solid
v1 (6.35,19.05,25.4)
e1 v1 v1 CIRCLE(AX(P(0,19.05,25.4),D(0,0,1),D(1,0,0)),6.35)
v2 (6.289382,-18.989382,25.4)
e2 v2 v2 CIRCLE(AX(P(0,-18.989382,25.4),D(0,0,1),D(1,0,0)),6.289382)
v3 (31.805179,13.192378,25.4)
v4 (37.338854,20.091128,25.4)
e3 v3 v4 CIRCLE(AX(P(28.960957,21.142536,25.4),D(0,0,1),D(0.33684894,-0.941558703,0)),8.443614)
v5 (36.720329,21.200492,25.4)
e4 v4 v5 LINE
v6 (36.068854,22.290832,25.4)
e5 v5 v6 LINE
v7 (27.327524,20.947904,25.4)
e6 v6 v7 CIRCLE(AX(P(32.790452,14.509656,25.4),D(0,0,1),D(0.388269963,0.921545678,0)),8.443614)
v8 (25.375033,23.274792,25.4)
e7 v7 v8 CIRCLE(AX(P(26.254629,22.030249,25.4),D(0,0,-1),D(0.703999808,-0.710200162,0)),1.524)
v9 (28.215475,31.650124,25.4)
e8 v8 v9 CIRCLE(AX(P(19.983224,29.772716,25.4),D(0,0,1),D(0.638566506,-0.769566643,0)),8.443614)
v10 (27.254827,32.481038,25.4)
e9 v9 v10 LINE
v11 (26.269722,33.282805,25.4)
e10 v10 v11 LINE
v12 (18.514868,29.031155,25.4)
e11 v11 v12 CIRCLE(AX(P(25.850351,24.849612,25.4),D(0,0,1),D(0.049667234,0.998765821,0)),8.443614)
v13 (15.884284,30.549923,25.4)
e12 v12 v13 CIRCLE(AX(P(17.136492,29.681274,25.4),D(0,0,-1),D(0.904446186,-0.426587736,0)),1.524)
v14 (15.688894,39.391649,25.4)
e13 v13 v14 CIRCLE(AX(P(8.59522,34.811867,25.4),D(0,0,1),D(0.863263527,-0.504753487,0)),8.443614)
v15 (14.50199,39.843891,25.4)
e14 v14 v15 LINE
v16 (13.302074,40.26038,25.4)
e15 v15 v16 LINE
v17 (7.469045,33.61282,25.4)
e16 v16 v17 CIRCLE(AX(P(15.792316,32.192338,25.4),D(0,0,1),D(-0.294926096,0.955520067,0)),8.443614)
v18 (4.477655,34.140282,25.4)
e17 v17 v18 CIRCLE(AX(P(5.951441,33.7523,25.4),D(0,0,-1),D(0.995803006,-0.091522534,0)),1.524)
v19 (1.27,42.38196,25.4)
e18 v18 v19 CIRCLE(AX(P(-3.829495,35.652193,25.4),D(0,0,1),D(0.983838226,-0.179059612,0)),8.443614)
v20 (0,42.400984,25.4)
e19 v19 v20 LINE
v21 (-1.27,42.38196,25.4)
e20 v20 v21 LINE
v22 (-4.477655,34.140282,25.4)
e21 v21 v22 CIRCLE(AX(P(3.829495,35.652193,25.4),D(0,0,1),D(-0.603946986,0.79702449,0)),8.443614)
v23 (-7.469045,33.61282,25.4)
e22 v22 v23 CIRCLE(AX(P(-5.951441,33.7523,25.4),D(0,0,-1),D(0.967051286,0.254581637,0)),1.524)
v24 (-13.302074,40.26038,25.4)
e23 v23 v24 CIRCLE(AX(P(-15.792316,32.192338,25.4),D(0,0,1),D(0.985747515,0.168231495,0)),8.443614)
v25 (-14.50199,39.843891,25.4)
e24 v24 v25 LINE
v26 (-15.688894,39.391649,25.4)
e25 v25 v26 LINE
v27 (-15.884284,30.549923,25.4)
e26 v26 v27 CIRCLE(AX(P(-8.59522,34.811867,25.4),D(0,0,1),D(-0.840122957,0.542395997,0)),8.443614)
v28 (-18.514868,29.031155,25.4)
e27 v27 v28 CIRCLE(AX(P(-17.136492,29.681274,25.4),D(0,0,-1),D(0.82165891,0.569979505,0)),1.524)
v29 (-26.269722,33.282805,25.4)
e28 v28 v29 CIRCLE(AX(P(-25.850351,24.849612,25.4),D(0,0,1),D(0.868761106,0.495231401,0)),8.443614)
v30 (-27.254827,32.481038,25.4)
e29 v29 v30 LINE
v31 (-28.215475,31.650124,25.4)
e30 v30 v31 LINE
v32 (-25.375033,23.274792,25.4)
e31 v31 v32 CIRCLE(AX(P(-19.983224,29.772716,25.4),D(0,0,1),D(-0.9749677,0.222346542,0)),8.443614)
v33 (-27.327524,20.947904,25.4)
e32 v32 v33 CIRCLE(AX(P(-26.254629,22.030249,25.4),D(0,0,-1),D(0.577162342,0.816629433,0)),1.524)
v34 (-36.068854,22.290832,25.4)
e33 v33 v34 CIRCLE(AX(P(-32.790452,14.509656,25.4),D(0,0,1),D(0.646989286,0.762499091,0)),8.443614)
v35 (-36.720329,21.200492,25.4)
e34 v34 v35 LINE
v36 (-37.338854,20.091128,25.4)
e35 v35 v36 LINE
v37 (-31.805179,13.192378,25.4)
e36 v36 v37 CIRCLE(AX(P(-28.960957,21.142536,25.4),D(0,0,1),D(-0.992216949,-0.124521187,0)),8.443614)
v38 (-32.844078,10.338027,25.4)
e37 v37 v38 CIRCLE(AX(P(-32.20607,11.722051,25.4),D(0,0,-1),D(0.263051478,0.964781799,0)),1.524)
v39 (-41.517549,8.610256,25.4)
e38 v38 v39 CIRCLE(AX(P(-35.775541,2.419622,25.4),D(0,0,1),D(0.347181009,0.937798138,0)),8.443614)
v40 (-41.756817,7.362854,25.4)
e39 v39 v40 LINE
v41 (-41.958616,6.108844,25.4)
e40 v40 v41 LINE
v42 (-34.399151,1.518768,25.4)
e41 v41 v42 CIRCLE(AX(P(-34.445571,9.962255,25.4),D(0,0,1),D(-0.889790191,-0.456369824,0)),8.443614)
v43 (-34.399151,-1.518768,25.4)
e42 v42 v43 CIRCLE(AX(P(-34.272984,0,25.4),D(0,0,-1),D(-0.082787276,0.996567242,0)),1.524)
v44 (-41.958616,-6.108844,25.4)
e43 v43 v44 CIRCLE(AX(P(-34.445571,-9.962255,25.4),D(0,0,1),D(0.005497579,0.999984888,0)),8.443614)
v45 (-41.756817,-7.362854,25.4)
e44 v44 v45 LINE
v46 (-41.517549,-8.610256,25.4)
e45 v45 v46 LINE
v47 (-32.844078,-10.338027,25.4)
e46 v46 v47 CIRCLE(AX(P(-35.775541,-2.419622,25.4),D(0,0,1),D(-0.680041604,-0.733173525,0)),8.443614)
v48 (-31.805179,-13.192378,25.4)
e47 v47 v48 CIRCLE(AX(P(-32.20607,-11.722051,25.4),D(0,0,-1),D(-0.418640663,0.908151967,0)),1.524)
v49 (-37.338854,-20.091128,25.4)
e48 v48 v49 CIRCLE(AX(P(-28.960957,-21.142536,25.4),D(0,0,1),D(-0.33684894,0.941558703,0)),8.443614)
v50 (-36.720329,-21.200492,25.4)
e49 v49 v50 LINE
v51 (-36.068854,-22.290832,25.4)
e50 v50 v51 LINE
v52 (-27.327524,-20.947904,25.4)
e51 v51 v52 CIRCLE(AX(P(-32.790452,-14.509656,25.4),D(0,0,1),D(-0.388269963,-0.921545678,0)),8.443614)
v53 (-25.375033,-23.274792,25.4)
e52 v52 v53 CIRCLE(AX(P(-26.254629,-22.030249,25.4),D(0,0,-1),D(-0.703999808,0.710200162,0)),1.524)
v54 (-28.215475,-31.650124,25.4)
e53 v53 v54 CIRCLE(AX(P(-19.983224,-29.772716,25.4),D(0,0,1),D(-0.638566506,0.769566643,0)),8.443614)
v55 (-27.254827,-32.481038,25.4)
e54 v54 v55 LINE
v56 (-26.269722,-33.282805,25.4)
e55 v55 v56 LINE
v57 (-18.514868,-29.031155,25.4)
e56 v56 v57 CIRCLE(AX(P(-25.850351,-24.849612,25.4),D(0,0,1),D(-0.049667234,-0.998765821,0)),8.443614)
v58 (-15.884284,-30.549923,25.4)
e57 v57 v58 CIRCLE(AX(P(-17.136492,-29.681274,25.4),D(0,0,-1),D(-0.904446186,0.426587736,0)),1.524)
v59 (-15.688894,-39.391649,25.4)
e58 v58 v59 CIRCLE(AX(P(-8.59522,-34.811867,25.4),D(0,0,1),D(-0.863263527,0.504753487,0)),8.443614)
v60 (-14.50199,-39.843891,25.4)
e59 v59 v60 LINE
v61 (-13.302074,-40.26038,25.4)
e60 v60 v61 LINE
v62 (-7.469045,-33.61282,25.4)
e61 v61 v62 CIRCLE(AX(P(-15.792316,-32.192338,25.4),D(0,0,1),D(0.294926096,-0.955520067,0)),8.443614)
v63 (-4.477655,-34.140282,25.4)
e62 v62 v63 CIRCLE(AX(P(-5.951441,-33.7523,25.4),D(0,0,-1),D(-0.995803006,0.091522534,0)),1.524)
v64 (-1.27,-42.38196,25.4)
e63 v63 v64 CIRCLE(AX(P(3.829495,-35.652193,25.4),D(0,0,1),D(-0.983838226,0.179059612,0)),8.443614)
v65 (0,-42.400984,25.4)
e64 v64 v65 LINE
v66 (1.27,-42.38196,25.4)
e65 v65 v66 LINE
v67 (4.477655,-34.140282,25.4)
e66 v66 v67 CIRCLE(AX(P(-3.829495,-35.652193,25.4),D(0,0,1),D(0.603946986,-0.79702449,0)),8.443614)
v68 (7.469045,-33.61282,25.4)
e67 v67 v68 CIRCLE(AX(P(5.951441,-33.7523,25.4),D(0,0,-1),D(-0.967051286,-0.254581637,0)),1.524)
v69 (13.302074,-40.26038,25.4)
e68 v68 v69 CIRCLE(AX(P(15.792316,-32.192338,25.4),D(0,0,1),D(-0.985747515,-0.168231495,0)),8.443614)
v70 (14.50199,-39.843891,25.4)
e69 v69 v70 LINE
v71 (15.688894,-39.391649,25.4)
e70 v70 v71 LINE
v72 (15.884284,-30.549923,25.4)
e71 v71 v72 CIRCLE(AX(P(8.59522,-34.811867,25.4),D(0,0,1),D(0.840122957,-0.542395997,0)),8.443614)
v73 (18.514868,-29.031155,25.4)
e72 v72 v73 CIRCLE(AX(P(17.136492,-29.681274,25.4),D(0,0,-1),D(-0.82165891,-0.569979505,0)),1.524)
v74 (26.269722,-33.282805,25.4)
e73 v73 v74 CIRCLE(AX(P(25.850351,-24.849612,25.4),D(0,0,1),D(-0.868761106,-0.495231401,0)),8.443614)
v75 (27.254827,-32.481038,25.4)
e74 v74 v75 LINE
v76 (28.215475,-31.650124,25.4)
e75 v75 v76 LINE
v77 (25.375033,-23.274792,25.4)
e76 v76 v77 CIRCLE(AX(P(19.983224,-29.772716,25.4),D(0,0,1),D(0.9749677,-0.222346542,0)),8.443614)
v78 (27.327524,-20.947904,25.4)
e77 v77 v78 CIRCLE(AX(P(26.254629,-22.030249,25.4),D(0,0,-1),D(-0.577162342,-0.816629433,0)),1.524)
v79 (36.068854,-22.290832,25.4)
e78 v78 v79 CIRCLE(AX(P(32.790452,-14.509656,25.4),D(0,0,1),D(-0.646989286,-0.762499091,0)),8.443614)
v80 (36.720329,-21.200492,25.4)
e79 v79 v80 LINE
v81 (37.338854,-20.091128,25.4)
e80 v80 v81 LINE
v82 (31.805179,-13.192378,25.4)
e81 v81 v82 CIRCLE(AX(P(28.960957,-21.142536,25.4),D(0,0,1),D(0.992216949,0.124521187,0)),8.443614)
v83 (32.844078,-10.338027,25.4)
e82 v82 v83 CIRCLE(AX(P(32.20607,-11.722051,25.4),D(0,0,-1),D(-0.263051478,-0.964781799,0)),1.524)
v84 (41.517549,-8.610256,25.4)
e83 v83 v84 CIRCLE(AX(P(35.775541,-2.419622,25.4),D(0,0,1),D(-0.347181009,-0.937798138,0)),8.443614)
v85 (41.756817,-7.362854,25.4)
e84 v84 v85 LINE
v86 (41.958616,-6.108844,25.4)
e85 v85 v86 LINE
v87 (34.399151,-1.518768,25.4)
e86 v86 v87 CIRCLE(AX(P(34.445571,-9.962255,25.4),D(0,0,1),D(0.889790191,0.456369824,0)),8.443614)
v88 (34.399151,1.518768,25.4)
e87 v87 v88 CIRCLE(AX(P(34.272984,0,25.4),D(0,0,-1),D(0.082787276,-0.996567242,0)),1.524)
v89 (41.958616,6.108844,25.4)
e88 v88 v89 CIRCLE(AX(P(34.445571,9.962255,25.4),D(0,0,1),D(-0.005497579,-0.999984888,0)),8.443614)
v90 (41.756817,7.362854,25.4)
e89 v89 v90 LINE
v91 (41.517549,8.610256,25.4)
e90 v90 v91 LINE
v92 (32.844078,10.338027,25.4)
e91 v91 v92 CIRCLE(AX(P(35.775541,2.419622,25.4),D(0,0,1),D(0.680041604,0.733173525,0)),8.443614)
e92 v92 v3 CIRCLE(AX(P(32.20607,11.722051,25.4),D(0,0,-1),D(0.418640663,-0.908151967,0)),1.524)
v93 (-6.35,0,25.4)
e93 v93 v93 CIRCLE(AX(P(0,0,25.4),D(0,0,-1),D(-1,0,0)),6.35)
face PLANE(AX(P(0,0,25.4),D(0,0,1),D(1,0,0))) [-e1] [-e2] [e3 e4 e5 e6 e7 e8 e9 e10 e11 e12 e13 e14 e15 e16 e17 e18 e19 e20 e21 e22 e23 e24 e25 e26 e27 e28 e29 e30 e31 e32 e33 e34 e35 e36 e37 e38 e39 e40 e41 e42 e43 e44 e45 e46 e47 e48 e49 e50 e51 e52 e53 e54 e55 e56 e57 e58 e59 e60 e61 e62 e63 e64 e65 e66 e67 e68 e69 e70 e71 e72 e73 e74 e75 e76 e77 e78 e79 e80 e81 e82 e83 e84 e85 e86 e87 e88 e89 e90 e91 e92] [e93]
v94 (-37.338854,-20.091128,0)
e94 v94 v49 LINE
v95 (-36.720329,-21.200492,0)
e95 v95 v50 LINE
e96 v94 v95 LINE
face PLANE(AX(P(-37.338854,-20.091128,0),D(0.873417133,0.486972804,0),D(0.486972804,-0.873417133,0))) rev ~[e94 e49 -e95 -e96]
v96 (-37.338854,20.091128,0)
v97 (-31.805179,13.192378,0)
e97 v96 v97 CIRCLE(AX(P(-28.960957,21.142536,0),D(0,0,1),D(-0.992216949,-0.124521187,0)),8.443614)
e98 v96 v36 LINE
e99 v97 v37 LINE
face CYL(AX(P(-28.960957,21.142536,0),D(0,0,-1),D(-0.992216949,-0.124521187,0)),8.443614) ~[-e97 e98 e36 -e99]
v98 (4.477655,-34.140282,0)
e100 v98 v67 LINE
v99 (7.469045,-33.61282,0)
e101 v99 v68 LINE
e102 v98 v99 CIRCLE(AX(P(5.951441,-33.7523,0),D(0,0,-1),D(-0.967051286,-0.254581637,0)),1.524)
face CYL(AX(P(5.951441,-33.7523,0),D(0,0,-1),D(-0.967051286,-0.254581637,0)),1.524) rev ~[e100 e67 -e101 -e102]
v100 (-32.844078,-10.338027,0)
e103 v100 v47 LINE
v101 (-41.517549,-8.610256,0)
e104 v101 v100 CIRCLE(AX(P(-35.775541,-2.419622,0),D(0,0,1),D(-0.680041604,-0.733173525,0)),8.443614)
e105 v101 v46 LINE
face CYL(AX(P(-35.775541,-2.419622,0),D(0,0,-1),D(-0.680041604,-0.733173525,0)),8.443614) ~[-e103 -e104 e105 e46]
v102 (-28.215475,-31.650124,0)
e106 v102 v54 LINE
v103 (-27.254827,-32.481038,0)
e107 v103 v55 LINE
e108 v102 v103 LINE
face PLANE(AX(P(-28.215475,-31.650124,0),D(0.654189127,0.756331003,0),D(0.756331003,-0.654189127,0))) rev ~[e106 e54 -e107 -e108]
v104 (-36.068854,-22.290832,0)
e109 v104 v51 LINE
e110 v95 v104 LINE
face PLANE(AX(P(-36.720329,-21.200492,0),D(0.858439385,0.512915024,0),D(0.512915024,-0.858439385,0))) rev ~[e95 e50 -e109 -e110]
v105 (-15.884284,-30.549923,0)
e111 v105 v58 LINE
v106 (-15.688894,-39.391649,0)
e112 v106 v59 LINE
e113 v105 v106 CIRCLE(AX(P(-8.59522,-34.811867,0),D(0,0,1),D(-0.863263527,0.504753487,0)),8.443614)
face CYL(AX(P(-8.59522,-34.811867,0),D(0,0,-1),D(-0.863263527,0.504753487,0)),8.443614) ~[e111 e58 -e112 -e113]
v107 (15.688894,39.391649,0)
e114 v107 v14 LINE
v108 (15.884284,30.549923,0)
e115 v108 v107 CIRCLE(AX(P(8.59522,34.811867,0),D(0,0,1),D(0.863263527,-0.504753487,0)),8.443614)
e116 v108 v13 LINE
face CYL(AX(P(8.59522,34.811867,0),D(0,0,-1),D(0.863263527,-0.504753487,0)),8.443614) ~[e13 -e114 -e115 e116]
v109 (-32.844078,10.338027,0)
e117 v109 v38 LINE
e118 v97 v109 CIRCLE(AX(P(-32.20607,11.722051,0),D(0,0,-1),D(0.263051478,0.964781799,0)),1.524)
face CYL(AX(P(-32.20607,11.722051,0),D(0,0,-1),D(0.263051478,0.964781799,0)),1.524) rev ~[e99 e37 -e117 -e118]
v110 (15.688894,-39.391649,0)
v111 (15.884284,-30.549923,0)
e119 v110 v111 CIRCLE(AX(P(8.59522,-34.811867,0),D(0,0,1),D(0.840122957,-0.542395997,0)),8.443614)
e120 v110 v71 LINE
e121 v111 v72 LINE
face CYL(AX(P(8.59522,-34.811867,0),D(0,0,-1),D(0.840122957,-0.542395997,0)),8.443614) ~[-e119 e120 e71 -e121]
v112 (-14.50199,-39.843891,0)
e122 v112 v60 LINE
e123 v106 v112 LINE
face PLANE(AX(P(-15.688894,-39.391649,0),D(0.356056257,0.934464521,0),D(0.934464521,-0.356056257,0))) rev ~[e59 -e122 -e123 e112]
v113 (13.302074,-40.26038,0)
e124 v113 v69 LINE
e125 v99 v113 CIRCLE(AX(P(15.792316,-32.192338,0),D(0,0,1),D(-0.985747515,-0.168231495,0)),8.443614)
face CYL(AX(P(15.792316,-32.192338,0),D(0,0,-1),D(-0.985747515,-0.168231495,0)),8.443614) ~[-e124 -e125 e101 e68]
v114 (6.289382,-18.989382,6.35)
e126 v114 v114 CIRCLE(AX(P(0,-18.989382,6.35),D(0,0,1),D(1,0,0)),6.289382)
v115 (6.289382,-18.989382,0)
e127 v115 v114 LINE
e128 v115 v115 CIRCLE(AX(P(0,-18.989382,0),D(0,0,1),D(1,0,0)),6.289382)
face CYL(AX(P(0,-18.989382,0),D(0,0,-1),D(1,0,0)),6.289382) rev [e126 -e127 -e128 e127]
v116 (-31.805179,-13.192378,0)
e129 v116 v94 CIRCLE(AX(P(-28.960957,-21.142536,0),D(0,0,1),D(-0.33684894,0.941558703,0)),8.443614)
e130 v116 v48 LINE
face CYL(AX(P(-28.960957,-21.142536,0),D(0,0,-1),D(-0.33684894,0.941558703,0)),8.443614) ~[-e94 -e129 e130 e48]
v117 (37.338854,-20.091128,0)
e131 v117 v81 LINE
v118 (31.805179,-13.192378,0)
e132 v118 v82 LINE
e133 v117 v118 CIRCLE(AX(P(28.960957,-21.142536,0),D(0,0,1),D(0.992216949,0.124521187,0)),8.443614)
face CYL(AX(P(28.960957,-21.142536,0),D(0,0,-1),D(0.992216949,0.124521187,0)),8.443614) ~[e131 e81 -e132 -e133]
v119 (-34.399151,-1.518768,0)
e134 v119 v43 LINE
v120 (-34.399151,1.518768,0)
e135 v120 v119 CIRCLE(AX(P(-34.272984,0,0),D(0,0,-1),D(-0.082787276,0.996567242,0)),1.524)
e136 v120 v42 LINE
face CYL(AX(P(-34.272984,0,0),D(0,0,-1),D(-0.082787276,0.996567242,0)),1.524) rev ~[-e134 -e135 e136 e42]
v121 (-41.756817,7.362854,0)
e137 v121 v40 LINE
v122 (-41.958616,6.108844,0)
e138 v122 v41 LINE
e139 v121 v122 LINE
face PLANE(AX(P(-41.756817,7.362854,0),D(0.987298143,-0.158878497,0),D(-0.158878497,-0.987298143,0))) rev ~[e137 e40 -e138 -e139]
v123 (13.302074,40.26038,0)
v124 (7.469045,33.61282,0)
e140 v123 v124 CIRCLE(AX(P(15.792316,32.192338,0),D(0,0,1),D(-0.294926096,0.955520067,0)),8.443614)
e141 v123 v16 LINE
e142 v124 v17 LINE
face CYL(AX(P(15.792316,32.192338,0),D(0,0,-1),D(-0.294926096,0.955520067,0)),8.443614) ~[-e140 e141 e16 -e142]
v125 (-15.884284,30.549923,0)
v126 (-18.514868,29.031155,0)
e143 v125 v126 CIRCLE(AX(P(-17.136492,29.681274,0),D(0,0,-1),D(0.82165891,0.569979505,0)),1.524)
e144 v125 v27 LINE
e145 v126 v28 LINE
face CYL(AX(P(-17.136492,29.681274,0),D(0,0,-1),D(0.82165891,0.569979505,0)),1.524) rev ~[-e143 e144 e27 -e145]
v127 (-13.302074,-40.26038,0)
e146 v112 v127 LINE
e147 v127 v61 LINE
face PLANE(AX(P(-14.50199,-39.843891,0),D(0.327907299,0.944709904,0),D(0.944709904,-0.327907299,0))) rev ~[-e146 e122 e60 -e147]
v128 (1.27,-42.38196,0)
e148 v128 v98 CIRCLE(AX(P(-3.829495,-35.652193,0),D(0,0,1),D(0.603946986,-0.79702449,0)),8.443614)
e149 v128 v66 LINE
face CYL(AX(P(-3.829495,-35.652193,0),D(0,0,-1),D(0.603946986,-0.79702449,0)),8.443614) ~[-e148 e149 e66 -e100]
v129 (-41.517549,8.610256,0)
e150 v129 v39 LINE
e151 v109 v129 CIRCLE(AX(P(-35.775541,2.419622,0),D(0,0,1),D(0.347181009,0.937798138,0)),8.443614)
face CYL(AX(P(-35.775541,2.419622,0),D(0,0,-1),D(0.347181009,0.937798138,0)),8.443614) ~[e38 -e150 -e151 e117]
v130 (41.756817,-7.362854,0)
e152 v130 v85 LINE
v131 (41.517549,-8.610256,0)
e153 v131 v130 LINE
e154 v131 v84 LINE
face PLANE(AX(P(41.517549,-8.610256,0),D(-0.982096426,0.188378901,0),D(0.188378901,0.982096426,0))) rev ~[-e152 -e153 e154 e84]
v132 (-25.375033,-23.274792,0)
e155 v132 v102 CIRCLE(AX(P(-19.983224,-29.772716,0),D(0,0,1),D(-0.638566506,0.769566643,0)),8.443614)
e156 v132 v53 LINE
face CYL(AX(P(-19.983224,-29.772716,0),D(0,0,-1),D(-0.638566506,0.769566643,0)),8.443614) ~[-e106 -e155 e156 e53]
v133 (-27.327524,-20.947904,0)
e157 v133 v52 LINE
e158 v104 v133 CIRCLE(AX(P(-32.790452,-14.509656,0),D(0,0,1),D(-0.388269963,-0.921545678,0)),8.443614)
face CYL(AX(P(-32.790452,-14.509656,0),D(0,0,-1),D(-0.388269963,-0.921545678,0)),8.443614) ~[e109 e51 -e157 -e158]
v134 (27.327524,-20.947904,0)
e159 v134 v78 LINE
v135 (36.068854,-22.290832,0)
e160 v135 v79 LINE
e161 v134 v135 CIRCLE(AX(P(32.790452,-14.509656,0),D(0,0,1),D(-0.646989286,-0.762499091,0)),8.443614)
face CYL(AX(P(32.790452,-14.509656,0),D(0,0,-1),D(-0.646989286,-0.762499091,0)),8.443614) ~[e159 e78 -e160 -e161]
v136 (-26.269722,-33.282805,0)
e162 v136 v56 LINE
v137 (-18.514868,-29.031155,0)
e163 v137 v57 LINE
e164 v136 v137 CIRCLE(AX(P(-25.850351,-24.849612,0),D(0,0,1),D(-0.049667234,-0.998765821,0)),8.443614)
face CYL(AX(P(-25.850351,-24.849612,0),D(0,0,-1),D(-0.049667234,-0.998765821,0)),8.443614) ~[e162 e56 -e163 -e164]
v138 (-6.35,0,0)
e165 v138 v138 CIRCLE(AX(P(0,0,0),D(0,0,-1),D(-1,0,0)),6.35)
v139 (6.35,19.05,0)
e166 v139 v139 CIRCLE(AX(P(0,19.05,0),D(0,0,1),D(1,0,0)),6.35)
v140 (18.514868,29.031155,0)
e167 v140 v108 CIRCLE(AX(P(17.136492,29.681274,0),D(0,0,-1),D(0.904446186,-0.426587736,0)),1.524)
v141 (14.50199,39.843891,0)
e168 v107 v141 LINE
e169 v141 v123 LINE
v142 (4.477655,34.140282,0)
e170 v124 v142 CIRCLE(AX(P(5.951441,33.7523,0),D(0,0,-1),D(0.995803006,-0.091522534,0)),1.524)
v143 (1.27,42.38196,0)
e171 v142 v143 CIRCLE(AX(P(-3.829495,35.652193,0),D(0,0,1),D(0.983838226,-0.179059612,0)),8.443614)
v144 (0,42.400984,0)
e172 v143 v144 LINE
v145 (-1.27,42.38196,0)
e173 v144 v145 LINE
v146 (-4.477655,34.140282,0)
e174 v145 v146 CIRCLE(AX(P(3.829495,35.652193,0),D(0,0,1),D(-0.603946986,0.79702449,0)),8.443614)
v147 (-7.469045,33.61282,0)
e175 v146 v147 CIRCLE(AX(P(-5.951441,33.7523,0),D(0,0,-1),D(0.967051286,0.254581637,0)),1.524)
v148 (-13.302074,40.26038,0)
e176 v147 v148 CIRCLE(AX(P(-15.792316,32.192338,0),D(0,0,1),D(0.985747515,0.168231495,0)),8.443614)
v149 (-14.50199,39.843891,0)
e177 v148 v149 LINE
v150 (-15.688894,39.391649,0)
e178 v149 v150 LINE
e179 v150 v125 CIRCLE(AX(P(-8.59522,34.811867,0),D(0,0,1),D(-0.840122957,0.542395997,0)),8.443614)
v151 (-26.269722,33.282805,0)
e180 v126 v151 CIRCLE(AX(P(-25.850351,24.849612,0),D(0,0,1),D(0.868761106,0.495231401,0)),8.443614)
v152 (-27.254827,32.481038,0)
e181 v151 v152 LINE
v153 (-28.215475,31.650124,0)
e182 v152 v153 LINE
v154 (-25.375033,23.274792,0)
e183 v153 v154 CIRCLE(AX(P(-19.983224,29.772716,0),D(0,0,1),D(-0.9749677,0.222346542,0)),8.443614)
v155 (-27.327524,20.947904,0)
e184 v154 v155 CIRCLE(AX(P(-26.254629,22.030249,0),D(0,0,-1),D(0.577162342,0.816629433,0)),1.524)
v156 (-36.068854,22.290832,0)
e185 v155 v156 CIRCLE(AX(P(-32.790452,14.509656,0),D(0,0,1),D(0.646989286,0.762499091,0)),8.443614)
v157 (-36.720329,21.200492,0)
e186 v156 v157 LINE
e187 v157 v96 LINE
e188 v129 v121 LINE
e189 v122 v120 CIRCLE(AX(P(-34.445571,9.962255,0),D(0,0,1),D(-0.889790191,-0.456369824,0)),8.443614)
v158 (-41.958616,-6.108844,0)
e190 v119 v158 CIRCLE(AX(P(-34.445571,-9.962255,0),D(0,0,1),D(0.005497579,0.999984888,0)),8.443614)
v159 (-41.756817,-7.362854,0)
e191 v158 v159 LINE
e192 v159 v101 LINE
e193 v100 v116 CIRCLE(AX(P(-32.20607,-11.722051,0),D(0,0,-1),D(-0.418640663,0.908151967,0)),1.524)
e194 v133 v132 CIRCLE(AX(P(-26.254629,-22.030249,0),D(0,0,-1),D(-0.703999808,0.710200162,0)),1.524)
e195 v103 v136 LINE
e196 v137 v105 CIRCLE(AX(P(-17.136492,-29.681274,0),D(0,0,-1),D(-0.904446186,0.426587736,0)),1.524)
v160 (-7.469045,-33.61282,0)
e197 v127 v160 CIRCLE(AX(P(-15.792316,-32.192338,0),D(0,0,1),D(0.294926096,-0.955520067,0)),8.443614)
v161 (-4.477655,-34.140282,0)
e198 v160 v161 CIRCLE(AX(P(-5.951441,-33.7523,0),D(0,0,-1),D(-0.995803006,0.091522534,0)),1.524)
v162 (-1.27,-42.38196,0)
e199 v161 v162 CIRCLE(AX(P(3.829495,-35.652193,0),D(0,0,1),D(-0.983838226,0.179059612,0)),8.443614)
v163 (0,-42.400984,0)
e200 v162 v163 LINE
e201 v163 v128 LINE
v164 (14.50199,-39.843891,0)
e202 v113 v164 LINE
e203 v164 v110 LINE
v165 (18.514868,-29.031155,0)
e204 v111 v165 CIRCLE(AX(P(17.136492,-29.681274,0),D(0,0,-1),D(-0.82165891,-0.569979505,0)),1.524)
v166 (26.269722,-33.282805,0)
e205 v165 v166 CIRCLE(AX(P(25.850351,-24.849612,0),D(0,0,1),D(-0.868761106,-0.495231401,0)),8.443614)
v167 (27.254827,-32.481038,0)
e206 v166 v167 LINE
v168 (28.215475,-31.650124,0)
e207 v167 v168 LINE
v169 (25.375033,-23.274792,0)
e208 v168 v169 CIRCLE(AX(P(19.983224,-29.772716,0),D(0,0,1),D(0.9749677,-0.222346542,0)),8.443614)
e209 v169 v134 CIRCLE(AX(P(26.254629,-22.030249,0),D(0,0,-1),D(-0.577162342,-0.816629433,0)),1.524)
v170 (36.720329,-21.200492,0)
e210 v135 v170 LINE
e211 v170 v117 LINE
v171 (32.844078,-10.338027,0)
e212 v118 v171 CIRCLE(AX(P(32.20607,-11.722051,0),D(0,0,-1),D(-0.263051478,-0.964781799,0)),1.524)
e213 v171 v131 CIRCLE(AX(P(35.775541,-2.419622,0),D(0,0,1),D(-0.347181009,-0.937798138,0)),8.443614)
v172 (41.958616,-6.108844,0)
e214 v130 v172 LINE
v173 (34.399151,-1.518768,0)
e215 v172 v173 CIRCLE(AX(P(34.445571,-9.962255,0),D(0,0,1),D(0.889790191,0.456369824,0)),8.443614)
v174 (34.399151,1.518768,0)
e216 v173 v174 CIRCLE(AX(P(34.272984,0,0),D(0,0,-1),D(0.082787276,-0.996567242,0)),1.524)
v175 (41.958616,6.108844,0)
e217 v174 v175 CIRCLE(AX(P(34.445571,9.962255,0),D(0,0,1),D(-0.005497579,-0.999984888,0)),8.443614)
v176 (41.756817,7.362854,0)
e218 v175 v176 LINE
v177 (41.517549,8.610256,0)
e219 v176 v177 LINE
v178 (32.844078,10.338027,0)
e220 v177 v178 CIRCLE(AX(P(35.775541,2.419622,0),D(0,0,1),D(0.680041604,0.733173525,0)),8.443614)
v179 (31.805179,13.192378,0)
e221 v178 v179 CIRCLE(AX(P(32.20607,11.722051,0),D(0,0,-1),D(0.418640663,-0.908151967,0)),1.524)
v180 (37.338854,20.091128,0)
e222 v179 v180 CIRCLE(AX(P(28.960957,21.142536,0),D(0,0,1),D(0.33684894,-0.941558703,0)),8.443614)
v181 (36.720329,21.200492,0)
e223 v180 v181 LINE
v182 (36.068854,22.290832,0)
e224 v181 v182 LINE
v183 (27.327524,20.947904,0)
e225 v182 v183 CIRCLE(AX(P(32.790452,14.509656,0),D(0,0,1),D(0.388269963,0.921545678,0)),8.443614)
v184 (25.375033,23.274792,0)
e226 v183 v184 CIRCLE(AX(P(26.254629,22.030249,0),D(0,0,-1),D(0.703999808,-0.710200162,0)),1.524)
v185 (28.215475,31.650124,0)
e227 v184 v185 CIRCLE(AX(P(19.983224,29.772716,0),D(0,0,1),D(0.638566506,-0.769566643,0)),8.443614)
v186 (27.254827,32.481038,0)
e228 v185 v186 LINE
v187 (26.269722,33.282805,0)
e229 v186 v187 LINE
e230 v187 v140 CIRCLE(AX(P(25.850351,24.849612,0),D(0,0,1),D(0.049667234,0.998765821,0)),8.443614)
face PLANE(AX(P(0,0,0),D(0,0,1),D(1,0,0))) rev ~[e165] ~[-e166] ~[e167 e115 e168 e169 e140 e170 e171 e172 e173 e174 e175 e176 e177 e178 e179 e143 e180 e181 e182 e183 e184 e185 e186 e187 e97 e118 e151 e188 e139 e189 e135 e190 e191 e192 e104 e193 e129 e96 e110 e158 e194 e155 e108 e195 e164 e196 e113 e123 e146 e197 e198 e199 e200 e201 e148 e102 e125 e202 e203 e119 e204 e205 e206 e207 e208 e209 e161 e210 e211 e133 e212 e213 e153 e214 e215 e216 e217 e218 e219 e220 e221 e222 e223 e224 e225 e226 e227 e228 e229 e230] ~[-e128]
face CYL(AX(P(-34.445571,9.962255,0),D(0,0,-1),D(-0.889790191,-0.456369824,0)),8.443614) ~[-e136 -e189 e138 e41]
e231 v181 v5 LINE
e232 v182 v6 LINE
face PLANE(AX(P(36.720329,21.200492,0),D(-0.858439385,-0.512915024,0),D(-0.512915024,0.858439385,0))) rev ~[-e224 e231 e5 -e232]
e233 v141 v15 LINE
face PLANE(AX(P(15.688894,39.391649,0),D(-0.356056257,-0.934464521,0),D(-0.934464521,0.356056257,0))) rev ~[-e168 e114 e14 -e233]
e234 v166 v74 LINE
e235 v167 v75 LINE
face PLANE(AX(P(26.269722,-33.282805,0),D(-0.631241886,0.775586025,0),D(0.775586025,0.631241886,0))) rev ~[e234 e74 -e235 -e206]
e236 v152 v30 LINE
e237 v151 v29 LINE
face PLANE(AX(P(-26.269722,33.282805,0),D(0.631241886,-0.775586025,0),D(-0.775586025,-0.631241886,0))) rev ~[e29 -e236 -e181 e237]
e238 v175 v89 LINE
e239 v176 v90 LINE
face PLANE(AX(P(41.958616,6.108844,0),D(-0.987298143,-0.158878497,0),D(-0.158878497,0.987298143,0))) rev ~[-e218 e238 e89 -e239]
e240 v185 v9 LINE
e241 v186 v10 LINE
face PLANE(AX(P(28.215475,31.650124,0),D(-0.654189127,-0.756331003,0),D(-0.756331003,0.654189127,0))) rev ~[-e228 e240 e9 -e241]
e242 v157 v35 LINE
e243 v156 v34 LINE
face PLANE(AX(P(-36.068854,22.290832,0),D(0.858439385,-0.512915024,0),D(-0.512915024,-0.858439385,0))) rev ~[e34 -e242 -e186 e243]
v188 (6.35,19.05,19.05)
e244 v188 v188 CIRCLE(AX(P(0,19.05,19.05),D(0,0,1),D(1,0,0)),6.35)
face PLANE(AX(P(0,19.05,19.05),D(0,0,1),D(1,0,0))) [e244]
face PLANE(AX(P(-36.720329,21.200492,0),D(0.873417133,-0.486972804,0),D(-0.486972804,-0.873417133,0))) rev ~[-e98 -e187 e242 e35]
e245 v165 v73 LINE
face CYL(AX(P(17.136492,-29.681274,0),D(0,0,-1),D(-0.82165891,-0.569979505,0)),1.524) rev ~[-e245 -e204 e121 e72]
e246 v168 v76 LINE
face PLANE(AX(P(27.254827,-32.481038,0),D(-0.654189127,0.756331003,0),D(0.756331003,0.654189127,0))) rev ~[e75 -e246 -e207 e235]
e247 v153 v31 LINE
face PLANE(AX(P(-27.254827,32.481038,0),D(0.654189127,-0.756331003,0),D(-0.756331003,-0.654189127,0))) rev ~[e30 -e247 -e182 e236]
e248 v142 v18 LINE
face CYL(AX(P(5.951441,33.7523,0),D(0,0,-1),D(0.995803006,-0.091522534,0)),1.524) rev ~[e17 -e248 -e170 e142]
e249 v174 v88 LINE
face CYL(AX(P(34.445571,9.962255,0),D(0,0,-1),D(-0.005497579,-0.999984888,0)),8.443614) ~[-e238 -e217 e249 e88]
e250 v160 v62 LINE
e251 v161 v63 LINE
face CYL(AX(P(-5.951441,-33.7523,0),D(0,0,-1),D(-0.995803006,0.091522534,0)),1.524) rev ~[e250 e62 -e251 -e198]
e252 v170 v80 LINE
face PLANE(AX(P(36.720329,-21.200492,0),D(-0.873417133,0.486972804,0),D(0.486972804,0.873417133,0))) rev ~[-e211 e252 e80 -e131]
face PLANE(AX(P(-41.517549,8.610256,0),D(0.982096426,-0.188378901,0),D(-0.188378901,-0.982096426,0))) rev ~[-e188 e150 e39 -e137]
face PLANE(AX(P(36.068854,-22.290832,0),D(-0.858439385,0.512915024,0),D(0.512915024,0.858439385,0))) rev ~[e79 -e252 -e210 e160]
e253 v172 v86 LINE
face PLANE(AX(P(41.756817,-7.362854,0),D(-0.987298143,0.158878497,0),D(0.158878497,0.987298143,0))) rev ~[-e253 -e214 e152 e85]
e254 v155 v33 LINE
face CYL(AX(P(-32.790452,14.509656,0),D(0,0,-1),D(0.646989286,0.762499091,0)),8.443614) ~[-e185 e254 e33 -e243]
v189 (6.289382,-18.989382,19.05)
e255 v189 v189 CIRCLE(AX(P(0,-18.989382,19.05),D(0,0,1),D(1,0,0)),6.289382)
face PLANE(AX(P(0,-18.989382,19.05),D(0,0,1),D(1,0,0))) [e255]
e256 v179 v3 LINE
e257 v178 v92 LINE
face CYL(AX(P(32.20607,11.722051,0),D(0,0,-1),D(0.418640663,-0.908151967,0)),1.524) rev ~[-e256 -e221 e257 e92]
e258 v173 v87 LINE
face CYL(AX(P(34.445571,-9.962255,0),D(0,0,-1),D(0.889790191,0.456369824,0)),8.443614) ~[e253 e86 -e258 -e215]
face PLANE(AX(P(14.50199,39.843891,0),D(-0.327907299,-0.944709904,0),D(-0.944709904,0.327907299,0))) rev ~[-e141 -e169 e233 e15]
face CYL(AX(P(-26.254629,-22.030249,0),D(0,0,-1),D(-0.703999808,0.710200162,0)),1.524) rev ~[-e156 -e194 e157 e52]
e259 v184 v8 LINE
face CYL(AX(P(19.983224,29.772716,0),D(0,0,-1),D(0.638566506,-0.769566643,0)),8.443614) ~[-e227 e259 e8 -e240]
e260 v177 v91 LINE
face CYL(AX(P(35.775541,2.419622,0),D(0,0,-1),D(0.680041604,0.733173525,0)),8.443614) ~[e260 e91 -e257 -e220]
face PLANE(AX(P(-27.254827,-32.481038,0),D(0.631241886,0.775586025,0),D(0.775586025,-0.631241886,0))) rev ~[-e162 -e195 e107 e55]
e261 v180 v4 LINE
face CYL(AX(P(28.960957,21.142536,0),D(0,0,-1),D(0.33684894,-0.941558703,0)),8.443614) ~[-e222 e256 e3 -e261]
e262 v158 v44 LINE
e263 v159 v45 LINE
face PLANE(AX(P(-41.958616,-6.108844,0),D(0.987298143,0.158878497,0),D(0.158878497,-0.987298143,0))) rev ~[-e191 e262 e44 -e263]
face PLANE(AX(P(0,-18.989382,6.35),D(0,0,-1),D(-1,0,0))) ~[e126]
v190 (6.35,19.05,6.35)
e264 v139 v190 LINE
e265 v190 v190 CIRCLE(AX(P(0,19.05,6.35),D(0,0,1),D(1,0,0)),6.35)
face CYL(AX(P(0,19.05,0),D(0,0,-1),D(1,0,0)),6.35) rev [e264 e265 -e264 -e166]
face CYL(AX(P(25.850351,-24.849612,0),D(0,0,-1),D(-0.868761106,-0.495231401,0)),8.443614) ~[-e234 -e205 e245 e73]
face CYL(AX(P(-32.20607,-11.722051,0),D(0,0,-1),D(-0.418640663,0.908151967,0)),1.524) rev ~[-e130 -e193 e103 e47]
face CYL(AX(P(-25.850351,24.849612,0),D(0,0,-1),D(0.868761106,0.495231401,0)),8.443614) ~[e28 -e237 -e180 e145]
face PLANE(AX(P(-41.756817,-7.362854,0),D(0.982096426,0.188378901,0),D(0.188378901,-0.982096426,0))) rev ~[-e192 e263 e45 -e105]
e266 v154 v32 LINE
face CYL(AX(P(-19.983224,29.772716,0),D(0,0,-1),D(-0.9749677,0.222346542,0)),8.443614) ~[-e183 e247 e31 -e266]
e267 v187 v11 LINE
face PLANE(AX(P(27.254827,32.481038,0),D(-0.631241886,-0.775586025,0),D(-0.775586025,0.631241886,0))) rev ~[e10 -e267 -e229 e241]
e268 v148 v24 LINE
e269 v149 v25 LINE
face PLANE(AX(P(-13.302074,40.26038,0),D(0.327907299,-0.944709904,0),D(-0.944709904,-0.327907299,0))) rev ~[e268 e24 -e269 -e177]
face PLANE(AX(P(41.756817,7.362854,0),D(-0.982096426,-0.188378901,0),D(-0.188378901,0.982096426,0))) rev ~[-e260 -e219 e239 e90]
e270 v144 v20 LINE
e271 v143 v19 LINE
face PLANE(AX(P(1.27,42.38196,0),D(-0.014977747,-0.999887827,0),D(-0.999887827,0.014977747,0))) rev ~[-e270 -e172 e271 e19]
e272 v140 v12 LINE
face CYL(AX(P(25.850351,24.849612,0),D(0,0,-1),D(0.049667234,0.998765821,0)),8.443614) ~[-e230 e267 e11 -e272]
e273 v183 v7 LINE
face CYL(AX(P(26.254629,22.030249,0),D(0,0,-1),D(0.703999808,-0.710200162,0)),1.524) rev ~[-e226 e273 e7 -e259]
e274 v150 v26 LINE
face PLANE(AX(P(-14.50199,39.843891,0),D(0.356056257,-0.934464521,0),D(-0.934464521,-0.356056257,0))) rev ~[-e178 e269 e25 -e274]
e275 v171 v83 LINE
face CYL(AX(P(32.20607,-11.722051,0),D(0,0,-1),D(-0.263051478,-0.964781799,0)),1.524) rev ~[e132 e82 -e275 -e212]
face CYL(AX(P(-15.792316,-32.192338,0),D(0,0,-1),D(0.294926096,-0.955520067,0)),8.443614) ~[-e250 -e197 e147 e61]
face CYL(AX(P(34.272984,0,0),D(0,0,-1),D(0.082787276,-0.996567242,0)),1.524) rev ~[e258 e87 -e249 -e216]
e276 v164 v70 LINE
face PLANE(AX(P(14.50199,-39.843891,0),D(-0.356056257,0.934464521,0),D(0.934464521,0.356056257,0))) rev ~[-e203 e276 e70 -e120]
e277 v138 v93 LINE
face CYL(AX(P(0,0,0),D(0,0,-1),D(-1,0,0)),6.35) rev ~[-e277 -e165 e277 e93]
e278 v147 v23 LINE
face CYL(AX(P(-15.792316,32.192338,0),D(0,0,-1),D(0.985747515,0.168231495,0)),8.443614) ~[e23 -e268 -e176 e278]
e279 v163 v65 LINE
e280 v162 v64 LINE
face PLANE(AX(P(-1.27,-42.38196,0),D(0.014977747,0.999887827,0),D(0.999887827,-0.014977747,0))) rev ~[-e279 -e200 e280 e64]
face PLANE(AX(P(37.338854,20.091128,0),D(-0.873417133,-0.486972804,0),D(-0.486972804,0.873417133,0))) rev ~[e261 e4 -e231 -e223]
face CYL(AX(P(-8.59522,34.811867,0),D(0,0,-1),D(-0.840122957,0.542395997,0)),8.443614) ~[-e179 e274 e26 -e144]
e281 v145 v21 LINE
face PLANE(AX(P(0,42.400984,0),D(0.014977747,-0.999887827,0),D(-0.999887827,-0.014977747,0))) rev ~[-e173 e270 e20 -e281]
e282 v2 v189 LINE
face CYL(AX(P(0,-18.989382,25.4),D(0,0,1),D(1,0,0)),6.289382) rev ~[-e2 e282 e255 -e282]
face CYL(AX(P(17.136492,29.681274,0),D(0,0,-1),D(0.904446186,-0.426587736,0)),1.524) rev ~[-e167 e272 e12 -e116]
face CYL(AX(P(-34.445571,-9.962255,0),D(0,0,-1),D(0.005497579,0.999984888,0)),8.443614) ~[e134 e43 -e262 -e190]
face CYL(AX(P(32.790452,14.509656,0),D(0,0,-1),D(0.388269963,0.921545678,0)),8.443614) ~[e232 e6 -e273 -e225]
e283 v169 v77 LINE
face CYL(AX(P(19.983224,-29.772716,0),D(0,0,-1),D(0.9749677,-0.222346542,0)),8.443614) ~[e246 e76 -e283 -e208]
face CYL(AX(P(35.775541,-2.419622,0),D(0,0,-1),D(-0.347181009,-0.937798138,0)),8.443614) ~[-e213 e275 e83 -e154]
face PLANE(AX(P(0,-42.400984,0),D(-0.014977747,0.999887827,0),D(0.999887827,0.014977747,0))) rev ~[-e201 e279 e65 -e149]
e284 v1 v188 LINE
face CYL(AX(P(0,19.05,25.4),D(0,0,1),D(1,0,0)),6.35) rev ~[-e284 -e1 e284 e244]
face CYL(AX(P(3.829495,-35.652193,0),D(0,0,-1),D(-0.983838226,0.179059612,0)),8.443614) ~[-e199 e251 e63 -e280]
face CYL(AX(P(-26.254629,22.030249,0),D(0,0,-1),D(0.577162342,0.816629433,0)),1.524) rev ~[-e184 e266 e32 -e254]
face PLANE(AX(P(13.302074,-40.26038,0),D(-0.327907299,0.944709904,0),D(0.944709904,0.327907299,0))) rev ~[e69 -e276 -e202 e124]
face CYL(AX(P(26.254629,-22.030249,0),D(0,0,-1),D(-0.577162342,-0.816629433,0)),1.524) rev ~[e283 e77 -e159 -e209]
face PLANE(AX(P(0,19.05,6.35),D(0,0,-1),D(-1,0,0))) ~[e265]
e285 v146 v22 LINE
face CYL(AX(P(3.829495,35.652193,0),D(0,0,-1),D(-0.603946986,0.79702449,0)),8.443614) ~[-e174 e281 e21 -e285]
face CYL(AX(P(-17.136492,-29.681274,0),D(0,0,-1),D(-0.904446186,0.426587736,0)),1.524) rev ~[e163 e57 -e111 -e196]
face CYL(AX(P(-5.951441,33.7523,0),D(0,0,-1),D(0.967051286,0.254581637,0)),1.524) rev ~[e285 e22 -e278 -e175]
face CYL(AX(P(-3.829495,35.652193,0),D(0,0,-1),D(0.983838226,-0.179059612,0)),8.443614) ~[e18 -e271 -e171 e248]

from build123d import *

# Parameters (mm, degrees)
BOSS_EXTRUDE1_DEPTH = 25.4
SKETCH2_R           = 6.35
SKETCH2_R_2         = 6.289382054
CUT_EXTRUDE1_DEPTH  = 6.35
SKETCH3_R           = 6.35
CUT_EXTRUDE2_DEPTH  = 65.834626806


with BuildPart() as part:
    # Sketch1 → Boss-Extrude1 (new body)
    with BuildSketch(Plane.XY):
        with BuildLine():
            Line((1.27, 42.381959669), (0, 42.400983542))
            Line((0, 42.400983542), (-1.27, 42.381959669))
            ThreePointArc((-1.27, 42.381959669), (-4.039167101, 38.714670348), (-4.477654975, 34.140282326))
            ThreePointArc((-4.477654975, 34.140282326), (-5.686801313, 32.251452896), (-7.469044916, 33.61281957))
            ThreePointArc((-7.469044916, 33.61281957), (-9.445621582, 37.761366553), (-13.302074292, 40.260380337))
            Line((-13.302074292, 40.260380337), (-14.501990468, 39.843891349))
            Line((-14.501990468, 39.843891349), (-15.688893549, 39.391649173))
            ThreePointArc((-15.688893549, 39.391649173), (-17.036772621, 34.998413532), (-15.884283593, 30.549923177))
            ThreePointArc((-15.884283593, 30.549923177), (-16.374491771, 28.361451696), (-18.514867758, 29.031154701))
            ThreePointArc((-18.514867758, 29.031154701), (-21.7911289, 32.253484654), (-26.269722106, 33.282804957))
            Line((-26.269722106, 33.282804957), (-27.25482686, 32.481037825))
            Line((-27.25482686, 32.481037825), (-28.215474992, 31.650124428))
            ThreePointArc((-28.215474992, 31.650124428), (-27.979491926, 27.060831521), (-25.375033182, 23.274792424))
            ThreePointArc((-25.375033182, 23.274792424), (-25.08717686, 21.050640851), (-27.327524299, 20.947904121))
            ThreePointArc((-27.327524299, 20.947904121), (-31.50830447, 22.855356494), (-36.068853735, 22.290832097))
            Line((-36.068853735, 22.290832097), (-36.720328893, 21.200491771))
            Line((-36.720328893, 21.200491771), (-37.338853735, 20.091127572))
            ThreePointArc((-37.338853735, 20.091127572), (-35.547471572, 15.859313854), (-31.805179274, 13.192378205))
            ThreePointArc((-31.805179274, 13.192378205), (-30.773978173, 11.200812045), (-32.844078098, 10.338027146))
            ThreePointArc((-32.844078098, 10.338027146), (-37.425113508, 10.700535032), (-41.517549284, 8.610255909))
            Line((-41.517549284, 8.610255909), (-41.756817328, 7.362853523))
            Line((-41.756817328, 7.362853523), (-41.958615655, 6.108844216))
            ThreePointArc((-41.958615655, 6.108844216), (-38.827901521, 2.744928878), (-34.399151351, 1.518768476))
            ThreePointArc((-34.399151351, 1.518768476), (-32.748983542, 0), (-34.399151351, -1.518768476))
            ThreePointArc((-34.399151351, -1.518768476), (-38.827901521, -2.744928878), (-41.958615655, -6.108844216))
            Line((-41.958615655, -6.108844216), (-41.756817328, -7.362853523))
            Line((-41.756817328, -7.362853523), (-41.517549284, -8.610255909))
            ThreePointArc((-41.517549284, -8.610255909), (-37.425113508, -10.700535032), (-32.844078098, -10.338027146))
            ThreePointArc((-32.844078098, -10.338027146), (-30.773978173, -11.200812045), (-31.805179274, -13.192378205))
            ThreePointArc((-31.805179274, -13.192378205), (-35.547471572, -15.859313854), (-37.338853735, -20.091127572))
            Line((-37.338853735, -20.091127572), (-36.720328893, -21.200491771))
            Line((-36.720328893, -21.200491771), (-36.068853735, -22.290832097))
            ThreePointArc((-36.068853735, -22.290832097), (-31.50830447, -22.855356494), (-27.327524299, -20.947904121))
            ThreePointArc((-27.327524299, -20.947904121), (-25.08717686, -21.050640851), (-25.375033182, -23.274792424))
            ThreePointArc((-25.375033182, -23.274792424), (-27.979491926, -27.060831521), (-28.215474992, -31.650124428))
            Line((-28.215474992, -31.650124428), (-27.25482686, -32.481037825))
            Line((-27.25482686, -32.481037825), (-26.269722106, -33.282804957))
            ThreePointArc((-26.269722106, -33.282804957), (-21.7911289, -32.253484654), (-18.514867758, -29.031154701))
            ThreePointArc((-18.514867758, -29.031154701), (-16.374491771, -28.361451696), (-15.884283593, -30.549923177))
            ThreePointArc((-15.884283593, -30.549923177), (-17.036772621, -34.998413532), (-15.688893549, -39.391649173))
            Line((-15.688893549, -39.391649173), (-14.501990468, -39.843891349))
            Line((-14.501990468, -39.843891349), (-13.302074292, -40.260380337))
            ThreePointArc((-13.302074292, -40.260380337), (-9.445621582, -37.761366553), (-7.469044916, -33.61281957))
            ThreePointArc((-7.469044916, -33.61281957), (-5.686801313, -32.251452896), (-4.477654975, -34.140282326))
            ThreePointArc((-4.477654975, -34.140282326), (-4.039167101, -38.714670348), (-1.27, -42.381959669))
            Line((-1.27, -42.381959669), (0, -42.400983542))
            Line((0, -42.400983542), (1.27, -42.381959669))
            ThreePointArc((1.27, -42.381959669), (4.039167101, -38.714670348), (4.477654975, -34.140282326))
            ThreePointArc((4.477654975, -34.140282326), (5.686801313, -32.251452896), (7.469044916, -33.61281957))
            ThreePointArc((7.469044916, -33.61281957), (9.445621582, -37.761366553), (13.302074292, -40.260380337))
            Line((13.302074292, -40.260380337), (14.501990468, -39.843891349))
            Line((14.501990468, -39.843891349), (15.688893549, -39.391649173))
            ThreePointArc((15.688893549, -39.391649173), (17.036772621, -34.998413532), (15.884283593, -30.549923177))
            ThreePointArc((15.884283593, -30.549923177), (16.374491771, -28.361451696), (18.514867758, -29.031154701))
            ThreePointArc((18.514867758, -29.031154701), (21.7911289, -32.253484654), (26.269722106, -33.282804957))
            Line((26.269722106, -33.282804957), (27.25482686, -32.481037825))
            Line((27.25482686, -32.481037825), (28.215474992, -31.650124428))
            ThreePointArc((28.215474992, -31.650124428), (27.979491926, -27.060831521), (25.375033182, -23.274792424))
            ThreePointArc((25.375033182, -23.274792424), (25.08717686, -21.050640851), (27.327524299, -20.947904121))
            ThreePointArc((27.327524299, -20.947904121), (31.50830447, -22.855356494), (36.068853735, -22.290832097))
            Line((36.068853735, -22.290832097), (36.720328893, -21.200491771))
            Line((36.720328893, -21.200491771), (37.338853735, -20.091127572))
            ThreePointArc((37.338853735, -20.091127572), (35.547471572, -15.859313854), (31.805179274, -13.192378205))
            ThreePointArc((31.805179274, -13.192378205), (30.773978173, -11.200812045), (32.844078098, -10.338027146))
            ThreePointArc((32.844078098, -10.338027146), (37.425113508, -10.700535032), (41.517549284, -8.610255909))
            Line((41.517549284, -8.610255909), (41.756817328, -7.362853523))
            Line((41.756817328, -7.362853523), (41.958615655, -6.108844216))
            ThreePointArc((41.958615655, -6.108844216), (38.827901521, -2.744928878), (34.399151351, -1.518768476))
            ThreePointArc((34.399151351, -1.518768476), (32.748983542, 0), (34.399151351, 1.518768476))
            ThreePointArc((34.399151351, 1.518768476), (38.827901521, 2.744928878), (41.958615655, 6.108844216))
            Line((41.958615655, 6.108844216), (41.756817328, 7.362853523))
            Line((41.756817328, 7.362853523), (41.517549284, 8.610255909))
            ThreePointArc((41.517549284, 8.610255909), (37.425113508, 10.700535032), (32.844078098, 10.338027146))
            ThreePointArc((32.844078098, 10.338027146), (30.773978173, 11.200812045), (31.805179274, 13.192378205))
            ThreePointArc((31.805179274, 13.192378205), (35.547471572, 15.859313854), (37.338853735, 20.091127572))
            Line((37.338853735, 20.091127572), (36.720328893, 21.200491771))
            Line((36.720328893, 21.200491771), (36.068853735, 22.290832097))
            ThreePointArc((36.068853735, 22.290832097), (31.50830447, 22.855356494), (27.327524299, 20.947904121))
            ThreePointArc((27.327524299, 20.947904121), (25.08717686, 21.050640851), (25.375033182, 23.274792424))
            ThreePointArc((25.375033182, 23.274792424), (27.979491926, 27.060831521), (28.215474992, 31.650124428))
            Line((28.215474992, 31.650124428), (27.25482686, 32.481037825))
            Line((27.25482686, 32.481037825), (26.269722106, 33.282804957))
            ThreePointArc((26.269722106, 33.282804957), (21.7911289, 32.253484654), (18.514867758, 29.031154701))
            ThreePointArc((18.514867758, 29.031154701), (16.374491771, 28.361451696), (15.884283593, 30.549923177))
            ThreePointArc((15.884283593, 30.549923177), (17.036772621, 34.998413532), (15.688893549, 39.391649173))
            Line((15.688893549, 39.391649173), (14.501990468, 39.843891349))
            Line((14.501990468, 39.843891349), (13.302074292, 40.260380337))
            ThreePointArc((13.302074292, 40.260380337), (9.445621582, 37.761366553), (7.469044916, 33.61281957))
            ThreePointArc((7.469044916, 33.61281957), (5.686801313, 32.251452896), (4.477654975, 34.140282326))
            ThreePointArc((4.477654975, 34.140282326), (4.039167101, 38.714670348), (1.27, 42.381959669))
        make_face()
    extrude(amount=BOSS_EXTRUDE1_DEPTH)

    # Sketch2 → Cut-Extrude1 (cut)
    with BuildSketch(Plane.XY.offset(25.4)):
        with Locations((0, 19.05)):
            Circle(SKETCH2_R)
        with Locations((0, -18.989382054)):
            Circle(SKETCH2_R_2)
    cut_extrude1 = extrude(amount=-CUT_EXTRUDE1_DEPTH, mode=Mode.SUBTRACT)

    # Mirror2: Cut-Extrude1 across plane
    add(cut_extrude1.mirror(Plane.XY.offset(12.7)), mode=Mode.SUBTRACT)

    # Sketch3 → Cut-Extrude2 (cut, through all)
    with BuildSketch(Plane(origin=(0, 0, 0), x_dir=(-1, 0, 0), z_dir=(0, 0, -1))):
        Circle(SKETCH3_R)
    extrude(amount=-CUT_EXTRUDE2_DEPTH, mode=Mode.SUBTRACT)


solid = part.part
